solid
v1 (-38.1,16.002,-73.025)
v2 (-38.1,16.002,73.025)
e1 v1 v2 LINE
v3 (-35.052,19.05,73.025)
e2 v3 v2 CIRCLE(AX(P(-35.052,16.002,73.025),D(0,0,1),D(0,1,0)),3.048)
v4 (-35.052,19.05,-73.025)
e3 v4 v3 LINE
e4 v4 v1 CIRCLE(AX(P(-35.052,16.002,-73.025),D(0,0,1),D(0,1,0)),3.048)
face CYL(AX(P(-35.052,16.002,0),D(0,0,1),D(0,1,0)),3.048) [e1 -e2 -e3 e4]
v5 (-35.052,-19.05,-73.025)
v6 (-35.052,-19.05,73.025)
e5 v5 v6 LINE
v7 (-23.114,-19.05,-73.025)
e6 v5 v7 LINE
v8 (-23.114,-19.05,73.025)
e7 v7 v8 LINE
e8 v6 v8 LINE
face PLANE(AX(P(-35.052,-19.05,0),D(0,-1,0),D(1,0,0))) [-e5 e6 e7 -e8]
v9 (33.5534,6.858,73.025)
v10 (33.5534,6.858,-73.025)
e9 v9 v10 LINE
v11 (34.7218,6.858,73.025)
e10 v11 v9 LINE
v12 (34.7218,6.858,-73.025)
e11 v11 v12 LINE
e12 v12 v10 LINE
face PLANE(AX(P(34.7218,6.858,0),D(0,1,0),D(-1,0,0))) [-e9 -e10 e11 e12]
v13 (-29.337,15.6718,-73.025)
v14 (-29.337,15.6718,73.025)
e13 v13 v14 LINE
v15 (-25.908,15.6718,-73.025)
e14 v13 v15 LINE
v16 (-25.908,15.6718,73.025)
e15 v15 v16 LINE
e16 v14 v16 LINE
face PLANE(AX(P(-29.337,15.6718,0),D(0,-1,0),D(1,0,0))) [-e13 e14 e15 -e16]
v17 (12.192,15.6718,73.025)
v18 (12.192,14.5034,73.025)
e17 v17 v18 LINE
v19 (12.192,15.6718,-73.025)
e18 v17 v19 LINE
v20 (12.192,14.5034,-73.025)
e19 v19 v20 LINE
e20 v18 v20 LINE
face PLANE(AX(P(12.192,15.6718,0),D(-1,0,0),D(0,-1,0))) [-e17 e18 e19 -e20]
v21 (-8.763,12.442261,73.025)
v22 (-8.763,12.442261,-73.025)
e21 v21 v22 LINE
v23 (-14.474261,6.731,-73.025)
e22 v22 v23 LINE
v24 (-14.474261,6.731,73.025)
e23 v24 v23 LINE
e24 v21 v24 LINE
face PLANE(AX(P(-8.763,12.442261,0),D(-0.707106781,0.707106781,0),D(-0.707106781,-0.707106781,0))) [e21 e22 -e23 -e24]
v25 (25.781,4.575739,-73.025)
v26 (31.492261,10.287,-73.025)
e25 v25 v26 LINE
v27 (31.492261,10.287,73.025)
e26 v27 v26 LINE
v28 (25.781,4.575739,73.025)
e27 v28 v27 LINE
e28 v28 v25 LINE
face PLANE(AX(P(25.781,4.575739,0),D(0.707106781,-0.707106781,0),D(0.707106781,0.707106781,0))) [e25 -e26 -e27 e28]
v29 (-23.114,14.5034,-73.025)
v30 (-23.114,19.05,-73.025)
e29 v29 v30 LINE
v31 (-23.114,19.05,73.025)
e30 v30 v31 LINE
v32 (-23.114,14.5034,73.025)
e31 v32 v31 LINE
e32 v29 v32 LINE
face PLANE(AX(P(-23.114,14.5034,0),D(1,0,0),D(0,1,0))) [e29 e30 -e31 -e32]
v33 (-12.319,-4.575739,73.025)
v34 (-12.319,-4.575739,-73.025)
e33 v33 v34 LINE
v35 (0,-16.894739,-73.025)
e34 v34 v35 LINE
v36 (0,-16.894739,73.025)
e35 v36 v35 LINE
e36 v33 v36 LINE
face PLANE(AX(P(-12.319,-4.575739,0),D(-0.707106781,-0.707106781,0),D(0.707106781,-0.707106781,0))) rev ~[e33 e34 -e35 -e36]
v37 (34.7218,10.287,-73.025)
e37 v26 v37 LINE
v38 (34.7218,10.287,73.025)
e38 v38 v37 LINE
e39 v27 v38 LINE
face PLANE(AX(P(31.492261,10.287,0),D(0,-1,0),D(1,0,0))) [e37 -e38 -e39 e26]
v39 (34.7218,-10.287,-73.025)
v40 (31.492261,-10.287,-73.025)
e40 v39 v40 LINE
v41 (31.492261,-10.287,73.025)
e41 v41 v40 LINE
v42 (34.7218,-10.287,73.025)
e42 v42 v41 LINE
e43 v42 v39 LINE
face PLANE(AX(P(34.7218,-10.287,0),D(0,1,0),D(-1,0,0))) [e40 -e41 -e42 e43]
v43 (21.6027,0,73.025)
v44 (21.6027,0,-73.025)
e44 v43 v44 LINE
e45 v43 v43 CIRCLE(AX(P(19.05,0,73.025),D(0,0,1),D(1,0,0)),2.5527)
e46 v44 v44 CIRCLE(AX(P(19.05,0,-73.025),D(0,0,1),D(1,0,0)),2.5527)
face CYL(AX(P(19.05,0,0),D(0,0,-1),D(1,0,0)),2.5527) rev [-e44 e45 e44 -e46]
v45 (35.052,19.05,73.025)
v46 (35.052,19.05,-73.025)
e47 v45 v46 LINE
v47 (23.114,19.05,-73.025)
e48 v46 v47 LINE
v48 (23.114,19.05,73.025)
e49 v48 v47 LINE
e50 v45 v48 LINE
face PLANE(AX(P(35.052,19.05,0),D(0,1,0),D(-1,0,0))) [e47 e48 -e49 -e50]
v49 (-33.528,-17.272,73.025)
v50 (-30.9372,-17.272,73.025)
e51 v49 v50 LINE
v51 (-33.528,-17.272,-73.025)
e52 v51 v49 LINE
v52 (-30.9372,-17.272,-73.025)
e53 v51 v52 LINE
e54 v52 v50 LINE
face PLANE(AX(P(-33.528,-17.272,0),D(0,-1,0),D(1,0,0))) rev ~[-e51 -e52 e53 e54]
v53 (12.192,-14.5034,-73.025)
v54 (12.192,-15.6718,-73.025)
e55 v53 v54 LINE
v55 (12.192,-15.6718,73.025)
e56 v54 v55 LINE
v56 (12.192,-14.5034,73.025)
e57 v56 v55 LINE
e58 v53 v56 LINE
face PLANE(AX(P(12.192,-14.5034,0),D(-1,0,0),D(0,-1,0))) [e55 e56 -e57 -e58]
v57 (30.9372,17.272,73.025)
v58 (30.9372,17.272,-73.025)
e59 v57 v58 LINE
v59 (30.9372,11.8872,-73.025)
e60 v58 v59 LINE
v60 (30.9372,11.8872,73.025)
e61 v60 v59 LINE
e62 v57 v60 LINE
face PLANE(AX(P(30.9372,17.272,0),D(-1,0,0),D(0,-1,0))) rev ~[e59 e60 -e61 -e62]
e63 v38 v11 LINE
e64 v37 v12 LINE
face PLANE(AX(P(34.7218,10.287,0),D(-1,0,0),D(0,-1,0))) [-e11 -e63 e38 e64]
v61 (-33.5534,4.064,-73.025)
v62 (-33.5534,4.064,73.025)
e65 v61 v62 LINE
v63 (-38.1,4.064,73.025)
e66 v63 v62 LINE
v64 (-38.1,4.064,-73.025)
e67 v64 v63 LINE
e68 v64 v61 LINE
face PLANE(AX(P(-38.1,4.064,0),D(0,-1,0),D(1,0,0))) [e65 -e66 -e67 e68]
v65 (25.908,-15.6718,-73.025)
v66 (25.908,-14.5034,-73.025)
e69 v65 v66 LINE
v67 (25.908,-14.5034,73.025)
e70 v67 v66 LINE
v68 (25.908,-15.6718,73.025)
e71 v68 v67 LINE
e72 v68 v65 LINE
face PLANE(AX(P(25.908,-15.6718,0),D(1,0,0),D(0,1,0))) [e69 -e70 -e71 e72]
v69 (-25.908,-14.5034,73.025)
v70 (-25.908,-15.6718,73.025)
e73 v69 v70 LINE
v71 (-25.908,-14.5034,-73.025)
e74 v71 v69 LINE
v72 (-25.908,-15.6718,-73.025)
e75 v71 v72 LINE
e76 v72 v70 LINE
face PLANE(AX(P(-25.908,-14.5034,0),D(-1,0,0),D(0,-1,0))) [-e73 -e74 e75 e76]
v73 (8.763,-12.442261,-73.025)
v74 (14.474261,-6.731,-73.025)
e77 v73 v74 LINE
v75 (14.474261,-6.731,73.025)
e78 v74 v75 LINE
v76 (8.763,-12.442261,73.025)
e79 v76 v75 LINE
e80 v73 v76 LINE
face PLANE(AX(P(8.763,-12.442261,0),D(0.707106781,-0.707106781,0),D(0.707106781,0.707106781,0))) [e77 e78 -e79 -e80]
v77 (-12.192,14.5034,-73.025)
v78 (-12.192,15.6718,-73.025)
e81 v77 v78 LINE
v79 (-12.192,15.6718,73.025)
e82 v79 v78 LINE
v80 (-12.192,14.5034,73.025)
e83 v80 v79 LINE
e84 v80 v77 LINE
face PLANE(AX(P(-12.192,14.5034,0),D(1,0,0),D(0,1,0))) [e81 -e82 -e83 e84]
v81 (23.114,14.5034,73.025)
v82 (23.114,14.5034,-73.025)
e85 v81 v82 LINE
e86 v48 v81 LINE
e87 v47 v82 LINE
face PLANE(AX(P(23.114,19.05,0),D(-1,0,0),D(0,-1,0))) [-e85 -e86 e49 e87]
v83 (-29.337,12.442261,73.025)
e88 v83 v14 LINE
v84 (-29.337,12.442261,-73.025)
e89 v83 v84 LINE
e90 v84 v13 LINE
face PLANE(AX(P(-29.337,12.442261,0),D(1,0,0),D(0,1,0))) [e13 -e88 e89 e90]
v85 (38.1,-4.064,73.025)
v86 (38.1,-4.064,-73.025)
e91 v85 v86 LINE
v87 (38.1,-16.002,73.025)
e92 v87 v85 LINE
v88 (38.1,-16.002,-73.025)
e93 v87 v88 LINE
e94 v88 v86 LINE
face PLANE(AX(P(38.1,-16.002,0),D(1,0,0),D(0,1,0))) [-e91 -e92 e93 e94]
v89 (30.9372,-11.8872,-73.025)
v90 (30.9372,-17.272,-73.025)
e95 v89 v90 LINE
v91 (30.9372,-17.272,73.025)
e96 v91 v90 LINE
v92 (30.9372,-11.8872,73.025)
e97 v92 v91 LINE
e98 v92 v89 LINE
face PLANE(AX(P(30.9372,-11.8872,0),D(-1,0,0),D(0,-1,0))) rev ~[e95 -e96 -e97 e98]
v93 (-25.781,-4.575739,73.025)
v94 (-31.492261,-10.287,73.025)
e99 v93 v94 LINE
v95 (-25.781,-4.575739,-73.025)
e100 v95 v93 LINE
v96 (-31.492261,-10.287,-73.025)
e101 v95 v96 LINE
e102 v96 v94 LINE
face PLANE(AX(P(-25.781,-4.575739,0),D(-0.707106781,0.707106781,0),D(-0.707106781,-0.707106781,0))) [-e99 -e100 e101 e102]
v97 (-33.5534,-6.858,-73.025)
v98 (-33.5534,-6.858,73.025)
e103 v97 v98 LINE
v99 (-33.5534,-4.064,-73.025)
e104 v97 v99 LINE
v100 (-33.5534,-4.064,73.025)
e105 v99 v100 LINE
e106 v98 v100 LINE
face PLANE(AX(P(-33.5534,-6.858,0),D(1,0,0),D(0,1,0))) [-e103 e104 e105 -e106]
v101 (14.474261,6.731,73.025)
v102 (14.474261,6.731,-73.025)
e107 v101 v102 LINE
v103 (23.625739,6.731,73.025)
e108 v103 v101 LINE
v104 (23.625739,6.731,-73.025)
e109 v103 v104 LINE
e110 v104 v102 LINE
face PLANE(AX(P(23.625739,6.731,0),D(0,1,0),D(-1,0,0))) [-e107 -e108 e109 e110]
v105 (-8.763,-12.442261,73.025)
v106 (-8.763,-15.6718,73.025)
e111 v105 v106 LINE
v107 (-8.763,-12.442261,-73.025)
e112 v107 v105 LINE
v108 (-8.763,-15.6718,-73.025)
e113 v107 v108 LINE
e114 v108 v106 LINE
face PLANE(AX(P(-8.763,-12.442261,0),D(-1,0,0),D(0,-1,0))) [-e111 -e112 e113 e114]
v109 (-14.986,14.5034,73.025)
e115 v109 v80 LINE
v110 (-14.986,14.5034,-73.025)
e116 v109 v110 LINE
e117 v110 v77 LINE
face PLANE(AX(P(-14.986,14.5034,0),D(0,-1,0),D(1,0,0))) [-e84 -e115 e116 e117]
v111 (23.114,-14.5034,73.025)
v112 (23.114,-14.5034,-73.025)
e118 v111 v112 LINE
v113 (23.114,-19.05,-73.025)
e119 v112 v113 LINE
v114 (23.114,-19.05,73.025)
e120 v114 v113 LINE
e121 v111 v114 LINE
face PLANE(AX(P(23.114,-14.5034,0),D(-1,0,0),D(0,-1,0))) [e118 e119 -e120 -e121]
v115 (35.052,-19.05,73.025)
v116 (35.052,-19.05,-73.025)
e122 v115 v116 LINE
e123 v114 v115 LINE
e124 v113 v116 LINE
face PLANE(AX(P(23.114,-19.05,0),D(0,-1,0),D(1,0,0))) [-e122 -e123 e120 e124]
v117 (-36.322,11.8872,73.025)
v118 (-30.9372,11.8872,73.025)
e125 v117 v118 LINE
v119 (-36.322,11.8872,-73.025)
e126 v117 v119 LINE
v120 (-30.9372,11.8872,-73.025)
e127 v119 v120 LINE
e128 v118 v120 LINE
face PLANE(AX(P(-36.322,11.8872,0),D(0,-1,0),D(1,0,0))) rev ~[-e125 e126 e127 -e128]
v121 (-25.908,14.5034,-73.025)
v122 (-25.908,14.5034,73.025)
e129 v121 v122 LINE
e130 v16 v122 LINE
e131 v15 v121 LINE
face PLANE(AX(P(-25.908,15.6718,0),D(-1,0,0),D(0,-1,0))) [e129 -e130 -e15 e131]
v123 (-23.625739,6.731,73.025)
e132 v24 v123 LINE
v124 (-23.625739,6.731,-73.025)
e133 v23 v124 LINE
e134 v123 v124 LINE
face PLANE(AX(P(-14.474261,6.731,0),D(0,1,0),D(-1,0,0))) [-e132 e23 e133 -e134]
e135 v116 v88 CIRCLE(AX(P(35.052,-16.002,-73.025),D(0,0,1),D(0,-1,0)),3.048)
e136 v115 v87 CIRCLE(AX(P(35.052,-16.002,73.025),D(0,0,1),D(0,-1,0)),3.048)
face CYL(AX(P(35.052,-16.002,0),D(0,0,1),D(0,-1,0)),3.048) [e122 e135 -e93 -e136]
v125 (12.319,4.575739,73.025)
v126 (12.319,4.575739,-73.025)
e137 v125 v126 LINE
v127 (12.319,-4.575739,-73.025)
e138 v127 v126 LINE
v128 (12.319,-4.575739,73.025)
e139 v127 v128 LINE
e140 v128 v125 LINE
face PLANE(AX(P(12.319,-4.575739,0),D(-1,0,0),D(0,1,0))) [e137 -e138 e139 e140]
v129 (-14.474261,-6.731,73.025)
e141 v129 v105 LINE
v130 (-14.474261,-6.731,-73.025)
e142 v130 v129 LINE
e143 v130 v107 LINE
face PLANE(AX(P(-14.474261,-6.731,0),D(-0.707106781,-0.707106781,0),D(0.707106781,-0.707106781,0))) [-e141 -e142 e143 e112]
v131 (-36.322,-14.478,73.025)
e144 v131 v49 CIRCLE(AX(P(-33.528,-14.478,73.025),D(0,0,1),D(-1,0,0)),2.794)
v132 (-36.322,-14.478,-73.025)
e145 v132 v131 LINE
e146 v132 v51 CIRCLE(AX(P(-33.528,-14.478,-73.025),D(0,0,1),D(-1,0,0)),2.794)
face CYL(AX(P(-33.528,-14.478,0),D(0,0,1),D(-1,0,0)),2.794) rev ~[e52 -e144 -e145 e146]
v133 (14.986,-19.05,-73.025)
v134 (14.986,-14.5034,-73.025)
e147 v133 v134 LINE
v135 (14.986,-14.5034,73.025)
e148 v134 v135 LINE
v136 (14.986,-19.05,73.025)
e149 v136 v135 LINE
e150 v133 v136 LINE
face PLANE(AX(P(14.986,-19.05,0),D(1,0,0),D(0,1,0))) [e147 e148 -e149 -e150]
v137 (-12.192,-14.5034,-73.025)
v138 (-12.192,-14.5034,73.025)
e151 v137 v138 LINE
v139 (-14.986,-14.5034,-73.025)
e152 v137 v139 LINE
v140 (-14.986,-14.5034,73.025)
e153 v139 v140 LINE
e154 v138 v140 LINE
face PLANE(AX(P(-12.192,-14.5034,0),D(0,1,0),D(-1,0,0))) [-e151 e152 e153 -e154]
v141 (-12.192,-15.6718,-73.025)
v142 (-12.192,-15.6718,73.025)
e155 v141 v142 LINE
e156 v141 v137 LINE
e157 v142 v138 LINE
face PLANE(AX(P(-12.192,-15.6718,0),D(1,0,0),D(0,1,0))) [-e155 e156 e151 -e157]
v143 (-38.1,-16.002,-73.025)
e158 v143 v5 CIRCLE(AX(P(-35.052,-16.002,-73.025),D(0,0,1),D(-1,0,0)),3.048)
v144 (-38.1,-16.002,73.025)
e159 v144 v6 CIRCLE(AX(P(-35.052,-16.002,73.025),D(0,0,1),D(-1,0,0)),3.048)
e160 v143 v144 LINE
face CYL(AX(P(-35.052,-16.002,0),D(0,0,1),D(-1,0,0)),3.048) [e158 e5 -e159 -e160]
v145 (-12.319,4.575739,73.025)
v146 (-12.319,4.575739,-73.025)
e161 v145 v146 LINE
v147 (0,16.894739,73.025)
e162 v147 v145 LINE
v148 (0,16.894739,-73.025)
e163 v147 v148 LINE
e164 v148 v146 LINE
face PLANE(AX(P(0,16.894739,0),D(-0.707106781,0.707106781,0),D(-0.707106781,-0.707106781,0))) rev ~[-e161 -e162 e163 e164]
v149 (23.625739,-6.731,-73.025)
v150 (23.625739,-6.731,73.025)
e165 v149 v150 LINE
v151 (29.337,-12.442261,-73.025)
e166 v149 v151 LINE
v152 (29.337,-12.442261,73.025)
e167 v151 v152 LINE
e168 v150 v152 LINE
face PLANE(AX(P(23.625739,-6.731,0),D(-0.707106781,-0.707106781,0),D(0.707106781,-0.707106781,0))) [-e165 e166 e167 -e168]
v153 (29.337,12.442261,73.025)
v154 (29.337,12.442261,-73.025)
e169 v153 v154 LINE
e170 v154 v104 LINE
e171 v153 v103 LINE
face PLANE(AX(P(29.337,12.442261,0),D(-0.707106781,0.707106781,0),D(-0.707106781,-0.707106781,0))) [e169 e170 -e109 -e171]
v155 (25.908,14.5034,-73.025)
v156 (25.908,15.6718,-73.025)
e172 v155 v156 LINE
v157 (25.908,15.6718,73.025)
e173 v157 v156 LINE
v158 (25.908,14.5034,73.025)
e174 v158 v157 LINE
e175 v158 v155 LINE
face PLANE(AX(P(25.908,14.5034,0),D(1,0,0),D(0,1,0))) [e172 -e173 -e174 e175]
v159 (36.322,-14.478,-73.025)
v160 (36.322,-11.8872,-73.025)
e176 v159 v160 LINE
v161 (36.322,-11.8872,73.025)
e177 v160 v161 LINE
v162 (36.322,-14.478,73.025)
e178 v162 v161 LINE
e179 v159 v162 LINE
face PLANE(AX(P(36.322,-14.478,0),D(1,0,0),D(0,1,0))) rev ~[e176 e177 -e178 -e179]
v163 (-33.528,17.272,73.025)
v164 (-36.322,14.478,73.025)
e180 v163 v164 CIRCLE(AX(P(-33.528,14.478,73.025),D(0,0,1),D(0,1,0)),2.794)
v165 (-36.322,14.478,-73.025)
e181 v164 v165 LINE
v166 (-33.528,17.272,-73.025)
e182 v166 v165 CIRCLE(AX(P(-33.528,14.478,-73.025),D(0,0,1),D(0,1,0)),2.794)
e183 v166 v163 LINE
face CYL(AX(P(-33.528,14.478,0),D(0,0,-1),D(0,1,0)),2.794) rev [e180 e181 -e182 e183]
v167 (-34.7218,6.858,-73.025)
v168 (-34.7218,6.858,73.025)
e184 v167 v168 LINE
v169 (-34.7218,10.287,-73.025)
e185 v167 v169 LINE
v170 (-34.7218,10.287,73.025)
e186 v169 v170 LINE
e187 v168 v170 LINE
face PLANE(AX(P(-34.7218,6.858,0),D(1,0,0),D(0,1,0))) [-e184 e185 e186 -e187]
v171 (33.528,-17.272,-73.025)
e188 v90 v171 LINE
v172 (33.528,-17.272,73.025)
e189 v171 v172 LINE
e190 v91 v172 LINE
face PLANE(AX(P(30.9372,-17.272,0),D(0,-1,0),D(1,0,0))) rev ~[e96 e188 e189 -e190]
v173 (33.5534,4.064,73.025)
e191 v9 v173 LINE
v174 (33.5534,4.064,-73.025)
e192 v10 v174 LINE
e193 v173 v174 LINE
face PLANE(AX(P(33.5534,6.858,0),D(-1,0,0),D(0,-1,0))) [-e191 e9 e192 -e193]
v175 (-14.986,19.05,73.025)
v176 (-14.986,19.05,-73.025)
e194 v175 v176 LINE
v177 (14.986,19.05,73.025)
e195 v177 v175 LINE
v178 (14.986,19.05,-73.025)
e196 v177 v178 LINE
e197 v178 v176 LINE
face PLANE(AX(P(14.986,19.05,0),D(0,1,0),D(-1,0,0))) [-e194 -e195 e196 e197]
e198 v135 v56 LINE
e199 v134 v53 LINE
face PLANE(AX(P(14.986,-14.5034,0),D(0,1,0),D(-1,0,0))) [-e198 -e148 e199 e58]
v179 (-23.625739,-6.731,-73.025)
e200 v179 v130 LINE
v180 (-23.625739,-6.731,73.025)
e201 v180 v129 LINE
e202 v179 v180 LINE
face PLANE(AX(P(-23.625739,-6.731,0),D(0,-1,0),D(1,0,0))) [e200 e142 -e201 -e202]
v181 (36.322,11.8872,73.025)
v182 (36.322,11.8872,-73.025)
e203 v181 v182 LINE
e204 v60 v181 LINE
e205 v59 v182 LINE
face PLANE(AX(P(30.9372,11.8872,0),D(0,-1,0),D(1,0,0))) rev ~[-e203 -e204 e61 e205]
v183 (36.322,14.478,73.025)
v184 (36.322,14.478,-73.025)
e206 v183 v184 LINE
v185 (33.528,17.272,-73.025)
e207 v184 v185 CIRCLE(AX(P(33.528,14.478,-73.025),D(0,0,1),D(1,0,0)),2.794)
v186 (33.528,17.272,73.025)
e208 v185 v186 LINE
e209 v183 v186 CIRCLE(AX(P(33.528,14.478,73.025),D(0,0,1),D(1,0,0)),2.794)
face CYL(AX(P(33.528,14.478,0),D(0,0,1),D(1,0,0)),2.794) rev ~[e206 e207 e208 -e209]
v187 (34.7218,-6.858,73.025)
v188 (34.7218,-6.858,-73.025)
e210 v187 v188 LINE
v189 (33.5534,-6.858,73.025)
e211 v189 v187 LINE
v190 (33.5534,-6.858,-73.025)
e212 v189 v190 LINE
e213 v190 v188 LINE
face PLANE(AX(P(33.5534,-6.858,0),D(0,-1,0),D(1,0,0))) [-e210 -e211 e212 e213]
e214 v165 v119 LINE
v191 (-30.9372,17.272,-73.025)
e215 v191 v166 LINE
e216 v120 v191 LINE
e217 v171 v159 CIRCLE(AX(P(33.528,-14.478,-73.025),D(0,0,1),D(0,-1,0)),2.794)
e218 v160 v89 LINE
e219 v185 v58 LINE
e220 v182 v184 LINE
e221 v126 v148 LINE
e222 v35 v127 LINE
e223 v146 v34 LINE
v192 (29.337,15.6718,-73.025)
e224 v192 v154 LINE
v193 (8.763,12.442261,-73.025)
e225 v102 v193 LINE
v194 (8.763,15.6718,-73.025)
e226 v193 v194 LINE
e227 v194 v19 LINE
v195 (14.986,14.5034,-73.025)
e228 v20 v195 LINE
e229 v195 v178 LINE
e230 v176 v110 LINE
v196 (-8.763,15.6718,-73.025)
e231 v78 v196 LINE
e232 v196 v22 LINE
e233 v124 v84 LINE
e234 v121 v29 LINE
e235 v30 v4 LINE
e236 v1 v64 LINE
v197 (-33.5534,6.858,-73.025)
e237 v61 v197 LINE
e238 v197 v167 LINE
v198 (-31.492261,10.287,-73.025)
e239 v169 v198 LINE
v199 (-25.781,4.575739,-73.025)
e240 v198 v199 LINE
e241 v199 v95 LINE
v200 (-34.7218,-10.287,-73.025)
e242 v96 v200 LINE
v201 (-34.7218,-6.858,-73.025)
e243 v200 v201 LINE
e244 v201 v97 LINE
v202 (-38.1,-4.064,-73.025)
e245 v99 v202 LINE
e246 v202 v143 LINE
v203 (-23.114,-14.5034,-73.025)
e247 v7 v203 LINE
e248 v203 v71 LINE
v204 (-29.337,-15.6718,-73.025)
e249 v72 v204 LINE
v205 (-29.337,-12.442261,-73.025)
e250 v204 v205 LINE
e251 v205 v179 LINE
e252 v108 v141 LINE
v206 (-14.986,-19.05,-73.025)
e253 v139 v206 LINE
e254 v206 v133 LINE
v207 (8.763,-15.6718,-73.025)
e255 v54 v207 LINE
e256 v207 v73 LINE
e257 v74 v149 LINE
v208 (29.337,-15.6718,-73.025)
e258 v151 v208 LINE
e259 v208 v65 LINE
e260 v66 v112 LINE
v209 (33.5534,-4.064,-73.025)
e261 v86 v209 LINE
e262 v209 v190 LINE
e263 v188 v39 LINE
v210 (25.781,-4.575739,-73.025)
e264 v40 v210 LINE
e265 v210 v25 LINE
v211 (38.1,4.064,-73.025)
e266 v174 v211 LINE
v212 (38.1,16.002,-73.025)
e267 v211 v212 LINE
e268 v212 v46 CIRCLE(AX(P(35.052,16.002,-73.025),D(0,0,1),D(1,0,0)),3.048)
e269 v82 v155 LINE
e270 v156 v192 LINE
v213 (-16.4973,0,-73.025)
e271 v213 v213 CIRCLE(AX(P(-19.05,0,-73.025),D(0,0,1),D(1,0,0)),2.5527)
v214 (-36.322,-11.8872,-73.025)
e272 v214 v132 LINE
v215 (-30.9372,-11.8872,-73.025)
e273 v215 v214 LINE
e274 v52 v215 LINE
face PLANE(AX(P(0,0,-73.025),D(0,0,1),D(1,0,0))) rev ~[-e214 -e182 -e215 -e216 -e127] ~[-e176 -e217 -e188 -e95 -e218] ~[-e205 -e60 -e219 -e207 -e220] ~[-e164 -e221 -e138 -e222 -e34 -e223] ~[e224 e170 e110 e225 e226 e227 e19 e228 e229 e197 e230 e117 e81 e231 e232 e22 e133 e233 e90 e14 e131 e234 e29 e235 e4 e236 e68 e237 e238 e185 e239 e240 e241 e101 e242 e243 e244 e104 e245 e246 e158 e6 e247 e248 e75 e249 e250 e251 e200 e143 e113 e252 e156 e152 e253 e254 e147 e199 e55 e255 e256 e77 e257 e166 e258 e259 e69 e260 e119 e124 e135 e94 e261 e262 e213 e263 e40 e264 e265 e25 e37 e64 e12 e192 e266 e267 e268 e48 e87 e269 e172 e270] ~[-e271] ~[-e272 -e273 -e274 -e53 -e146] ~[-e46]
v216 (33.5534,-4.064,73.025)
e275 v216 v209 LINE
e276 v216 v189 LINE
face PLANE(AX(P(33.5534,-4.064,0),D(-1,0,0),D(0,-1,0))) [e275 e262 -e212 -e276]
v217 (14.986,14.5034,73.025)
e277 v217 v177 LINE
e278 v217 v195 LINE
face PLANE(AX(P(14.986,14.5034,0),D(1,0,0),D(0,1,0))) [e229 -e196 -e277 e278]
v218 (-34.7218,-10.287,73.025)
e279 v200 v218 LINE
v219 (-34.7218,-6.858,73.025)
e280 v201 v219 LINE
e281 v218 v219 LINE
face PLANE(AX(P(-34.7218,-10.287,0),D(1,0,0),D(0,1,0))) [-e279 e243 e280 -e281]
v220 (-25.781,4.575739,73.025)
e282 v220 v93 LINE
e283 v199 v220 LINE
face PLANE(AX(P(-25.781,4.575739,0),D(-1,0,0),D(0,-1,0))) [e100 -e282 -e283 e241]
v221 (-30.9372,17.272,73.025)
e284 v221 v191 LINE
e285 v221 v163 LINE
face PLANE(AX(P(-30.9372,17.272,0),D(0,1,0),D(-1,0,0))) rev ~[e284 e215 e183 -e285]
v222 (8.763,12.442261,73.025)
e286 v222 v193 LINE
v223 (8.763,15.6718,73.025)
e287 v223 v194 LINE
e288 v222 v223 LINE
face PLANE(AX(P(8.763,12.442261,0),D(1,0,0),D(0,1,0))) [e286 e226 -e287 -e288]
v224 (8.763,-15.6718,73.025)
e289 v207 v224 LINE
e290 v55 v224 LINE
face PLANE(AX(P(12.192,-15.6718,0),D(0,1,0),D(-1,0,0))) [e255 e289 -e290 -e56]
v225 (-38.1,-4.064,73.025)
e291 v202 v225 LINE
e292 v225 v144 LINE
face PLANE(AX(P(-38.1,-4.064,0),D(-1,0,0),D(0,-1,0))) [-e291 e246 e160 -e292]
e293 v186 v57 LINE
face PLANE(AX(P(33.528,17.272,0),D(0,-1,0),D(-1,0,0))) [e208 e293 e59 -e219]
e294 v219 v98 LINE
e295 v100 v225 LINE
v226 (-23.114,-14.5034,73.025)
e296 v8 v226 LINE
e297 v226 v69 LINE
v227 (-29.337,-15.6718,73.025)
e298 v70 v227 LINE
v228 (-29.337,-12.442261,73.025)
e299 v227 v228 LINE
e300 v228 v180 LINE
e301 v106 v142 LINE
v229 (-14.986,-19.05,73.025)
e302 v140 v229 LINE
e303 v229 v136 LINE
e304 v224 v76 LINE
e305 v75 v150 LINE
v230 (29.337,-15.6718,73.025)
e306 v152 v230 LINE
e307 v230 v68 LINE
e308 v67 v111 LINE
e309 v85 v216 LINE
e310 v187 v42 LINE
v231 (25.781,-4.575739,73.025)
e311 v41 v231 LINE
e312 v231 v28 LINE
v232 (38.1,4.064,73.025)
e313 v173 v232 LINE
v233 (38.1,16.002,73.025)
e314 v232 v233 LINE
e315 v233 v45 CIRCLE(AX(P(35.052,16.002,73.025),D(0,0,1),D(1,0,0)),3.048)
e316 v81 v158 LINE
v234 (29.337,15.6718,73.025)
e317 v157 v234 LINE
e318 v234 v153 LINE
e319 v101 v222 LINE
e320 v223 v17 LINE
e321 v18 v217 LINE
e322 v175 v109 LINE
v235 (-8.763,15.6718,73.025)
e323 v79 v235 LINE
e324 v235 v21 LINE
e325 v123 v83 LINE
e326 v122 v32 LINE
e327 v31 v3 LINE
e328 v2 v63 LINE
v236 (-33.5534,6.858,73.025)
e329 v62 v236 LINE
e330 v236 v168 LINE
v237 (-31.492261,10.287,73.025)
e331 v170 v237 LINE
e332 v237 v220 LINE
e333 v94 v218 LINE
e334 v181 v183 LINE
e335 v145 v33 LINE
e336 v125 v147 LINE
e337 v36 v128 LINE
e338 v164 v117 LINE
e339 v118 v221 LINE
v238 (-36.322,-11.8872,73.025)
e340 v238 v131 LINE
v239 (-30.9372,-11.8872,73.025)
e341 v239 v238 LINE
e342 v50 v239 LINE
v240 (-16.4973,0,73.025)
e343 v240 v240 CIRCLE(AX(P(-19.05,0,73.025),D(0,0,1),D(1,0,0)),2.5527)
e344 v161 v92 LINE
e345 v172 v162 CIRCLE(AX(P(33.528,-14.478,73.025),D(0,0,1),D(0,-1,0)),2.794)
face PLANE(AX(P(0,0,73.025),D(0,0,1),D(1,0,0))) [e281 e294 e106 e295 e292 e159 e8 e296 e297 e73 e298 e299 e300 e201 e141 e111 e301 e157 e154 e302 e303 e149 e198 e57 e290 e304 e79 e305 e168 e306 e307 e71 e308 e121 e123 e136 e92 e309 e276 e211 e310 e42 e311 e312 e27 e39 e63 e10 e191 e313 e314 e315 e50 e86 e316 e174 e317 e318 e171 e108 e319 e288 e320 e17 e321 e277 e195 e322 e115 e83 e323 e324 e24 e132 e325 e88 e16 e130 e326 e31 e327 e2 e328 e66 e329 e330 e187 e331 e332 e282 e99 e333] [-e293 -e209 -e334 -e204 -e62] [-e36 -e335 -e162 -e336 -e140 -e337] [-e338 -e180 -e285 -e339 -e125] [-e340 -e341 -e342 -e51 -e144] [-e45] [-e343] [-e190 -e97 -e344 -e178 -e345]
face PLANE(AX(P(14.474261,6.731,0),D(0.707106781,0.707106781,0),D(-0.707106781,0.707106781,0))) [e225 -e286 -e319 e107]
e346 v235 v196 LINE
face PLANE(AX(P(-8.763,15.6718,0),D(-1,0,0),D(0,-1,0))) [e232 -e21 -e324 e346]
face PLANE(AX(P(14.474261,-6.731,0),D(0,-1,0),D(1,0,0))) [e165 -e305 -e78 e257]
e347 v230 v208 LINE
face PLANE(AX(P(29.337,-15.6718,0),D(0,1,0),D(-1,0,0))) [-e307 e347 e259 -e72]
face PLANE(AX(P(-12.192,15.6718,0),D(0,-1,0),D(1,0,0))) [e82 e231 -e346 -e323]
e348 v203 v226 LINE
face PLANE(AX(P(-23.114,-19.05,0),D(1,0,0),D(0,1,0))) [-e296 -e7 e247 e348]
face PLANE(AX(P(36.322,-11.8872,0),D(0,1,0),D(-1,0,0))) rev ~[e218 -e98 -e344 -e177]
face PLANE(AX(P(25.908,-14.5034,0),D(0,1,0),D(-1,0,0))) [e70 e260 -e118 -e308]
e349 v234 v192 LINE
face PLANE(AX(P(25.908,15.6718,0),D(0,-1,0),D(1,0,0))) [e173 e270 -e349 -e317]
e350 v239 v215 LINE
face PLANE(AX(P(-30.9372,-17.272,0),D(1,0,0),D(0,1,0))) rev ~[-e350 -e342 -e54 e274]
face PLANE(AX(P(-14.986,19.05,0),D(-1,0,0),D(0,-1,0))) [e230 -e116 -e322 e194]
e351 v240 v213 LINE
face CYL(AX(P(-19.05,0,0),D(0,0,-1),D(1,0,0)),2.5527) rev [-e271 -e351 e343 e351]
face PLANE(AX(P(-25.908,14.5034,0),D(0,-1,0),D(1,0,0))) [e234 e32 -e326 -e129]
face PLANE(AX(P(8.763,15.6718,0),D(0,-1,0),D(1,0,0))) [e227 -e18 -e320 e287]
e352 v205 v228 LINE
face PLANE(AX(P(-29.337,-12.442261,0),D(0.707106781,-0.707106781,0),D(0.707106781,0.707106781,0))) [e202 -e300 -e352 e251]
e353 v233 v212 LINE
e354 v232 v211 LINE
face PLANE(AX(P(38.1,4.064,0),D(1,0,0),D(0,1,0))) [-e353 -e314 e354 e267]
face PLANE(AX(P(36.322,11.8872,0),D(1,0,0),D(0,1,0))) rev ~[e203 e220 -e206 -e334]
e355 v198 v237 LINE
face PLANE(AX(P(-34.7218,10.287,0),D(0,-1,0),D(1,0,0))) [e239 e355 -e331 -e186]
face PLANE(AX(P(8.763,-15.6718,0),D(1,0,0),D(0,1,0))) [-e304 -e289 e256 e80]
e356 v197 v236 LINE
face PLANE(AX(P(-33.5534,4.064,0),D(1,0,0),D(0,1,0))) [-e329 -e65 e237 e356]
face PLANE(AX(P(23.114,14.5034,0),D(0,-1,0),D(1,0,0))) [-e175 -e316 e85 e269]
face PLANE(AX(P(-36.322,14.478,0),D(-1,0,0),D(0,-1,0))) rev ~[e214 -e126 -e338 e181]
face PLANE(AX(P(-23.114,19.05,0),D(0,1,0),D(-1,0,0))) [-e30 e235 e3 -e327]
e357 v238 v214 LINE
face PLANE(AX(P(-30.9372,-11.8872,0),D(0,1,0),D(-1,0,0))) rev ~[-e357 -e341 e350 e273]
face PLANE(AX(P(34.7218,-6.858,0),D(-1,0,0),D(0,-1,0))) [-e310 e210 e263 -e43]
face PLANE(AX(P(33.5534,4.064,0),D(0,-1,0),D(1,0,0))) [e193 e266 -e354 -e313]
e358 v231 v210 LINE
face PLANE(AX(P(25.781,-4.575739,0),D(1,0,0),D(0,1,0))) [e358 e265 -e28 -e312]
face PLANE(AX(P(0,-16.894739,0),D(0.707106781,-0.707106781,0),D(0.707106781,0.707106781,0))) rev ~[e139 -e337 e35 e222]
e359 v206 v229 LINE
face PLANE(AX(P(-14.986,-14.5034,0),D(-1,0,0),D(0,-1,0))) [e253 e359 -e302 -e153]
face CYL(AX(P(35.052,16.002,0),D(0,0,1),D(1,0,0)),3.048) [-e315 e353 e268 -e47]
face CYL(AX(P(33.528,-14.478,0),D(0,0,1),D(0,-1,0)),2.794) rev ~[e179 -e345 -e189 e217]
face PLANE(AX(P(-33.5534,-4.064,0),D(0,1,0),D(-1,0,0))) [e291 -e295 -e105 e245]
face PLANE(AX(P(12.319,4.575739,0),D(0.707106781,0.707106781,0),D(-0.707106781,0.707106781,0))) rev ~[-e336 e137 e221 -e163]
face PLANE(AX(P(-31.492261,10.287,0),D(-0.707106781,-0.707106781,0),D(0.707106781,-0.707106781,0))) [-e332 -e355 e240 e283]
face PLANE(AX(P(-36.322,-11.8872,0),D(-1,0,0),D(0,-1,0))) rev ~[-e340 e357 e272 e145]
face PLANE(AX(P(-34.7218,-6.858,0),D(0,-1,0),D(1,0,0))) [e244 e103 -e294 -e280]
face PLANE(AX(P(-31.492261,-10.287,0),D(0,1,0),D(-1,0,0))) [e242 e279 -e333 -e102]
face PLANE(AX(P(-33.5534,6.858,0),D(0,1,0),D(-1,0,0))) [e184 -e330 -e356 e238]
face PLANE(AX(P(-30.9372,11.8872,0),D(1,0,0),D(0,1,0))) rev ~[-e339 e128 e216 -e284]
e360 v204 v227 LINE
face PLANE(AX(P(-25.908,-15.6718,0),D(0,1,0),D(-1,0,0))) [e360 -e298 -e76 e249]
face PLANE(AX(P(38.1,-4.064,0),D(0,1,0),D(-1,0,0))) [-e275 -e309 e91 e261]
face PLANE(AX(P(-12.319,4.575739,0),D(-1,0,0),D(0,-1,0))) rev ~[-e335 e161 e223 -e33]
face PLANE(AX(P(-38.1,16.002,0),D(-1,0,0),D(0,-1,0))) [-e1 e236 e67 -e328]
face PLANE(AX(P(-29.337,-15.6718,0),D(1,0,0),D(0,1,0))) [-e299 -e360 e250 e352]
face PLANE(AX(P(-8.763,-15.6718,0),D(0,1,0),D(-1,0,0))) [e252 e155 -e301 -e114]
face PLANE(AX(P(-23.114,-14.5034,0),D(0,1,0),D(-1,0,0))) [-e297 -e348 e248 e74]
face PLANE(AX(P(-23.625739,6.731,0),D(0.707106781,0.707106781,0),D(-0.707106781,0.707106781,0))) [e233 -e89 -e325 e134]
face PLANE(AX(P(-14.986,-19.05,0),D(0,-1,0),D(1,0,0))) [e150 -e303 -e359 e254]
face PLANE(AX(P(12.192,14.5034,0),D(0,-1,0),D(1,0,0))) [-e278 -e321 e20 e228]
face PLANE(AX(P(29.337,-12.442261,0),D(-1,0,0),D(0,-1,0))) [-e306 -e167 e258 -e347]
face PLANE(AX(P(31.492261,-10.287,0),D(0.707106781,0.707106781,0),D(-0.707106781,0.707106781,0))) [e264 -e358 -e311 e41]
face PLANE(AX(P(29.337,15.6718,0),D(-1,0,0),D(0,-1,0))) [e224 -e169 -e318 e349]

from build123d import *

# Parameters (mm, degrees)
SKETCH1_R           = 2.5527
BOSS_EXTRUDE1_DEPTH = 73.025


with BuildPart() as part:
    # Sketch1 → Boss-Extrude1 (new, symmetric)
    with BuildSketch(Plane.XY):
        with BuildLine():
            Line((-29.337, 12.442261469), (-29.337, 15.6718))
            Line((-29.337, 15.6718), (-25.908, 15.6718))
            Line((-25.908, 15.6718), (-25.908, 14.5034))
            Line((-25.908, 14.5034), (-23.114, 14.5034))
            Line((-23.114, 14.5034), (-23.114, 19.05))
            Line((-23.114, 19.05), (-35.052, 19.05))
            ThreePointArc((-35.052, 19.05), (-37.207261469, 18.157261469), (-38.1, 16.002))
            Line((-38.1, 16.002), (-38.1, 4.064))
            Line((-38.1, 4.064), (-33.5534, 4.064))
            Line((-33.5534, 4.064), (-33.5534, 6.858))
            Line((-33.5534, 6.858), (-34.7218, 6.858))
            Line((-34.7218, 6.858), (-34.7218, 10.287))
            Line((-34.7218, 10.287), (-31.492261469, 10.287))
            Line((-31.492261469, 10.287), (-25.781, 4.575738531))
            Line((-25.781, 4.575738531), (-25.781, -4.575738531))
            Line((-25.781, -4.575738531), (-31.492261469, -10.287))
            Line((-31.492261469, -10.287), (-34.7218, -10.287))
            Line((-34.7218, -10.287), (-34.7218, -6.858))
            Line((-34.7218, -6.858), (-33.5534, -6.858))
            Line((-33.5534, -6.858), (-33.5534, -4.064))
            Line((-33.5534, -4.064), (-38.1, -4.064))
            Line((-38.1, -4.064), (-38.1, -16.002))
            ThreePointArc((-38.1, -16.002), (-37.207261469, -18.157261469), (-35.052, -19.05))
            Line((-35.052, -19.05), (-23.114, -19.05))
            Line((-23.114, -19.05), (-23.114, -14.5034))
            Line((-23.114, -14.5034), (-25.908, -14.5034))
            Line((-25.908, -14.5034), (-25.908, -15.6718))
            Line((-25.908, -15.6718), (-29.337, -15.6718))
            Line((-29.337, -15.6718), (-29.337, -12.442261469))
            Line((-29.337, -12.442261469), (-23.625738531, -6.731))
            Line((-23.625738531, -6.731), (-14.474261469, -6.731))
            Line((-14.474261469, -6.731), (-8.763, -12.442261469))
            Line((-8.763, -12.442261469), (-8.763, -15.6718))
            Line((-8.763, -15.6718), (-12.192, -15.6718))
            Line((-12.192, -15.6718), (-12.192, -14.5034))
            Line((-12.192, -14.5034), (-14.986, -14.5034))
            Line((-14.986, -14.5034), (-14.986, -19.05))
            Line((-14.986, -19.05), (14.986, -19.05))
            Line((14.986, -19.05), (14.986, -14.5034))
            Line((14.986, -14.5034), (12.192, -14.5034))
            Line((12.192, -14.5034), (12.192, -15.6718))
            Line((12.192, -15.6718), (8.763, -15.6718))
            Line((8.763, -15.6718), (8.763, -12.442261469))
            Line((8.763, -12.442261469), (14.474261469, -6.731))
            Line((14.474261469, -6.731), (23.625738531, -6.731))
            Line((23.625738531, -6.731), (29.337, -12.442261469))
            Line((29.337, -12.442261469), (29.337, -15.6718))
            Line((29.337, -15.6718), (25.908, -15.6718))
            Line((25.908, -15.6718), (25.908, -14.5034))
            Line((25.908, -14.5034), (23.114, -14.5034))
            Line((23.114, -14.5034), (23.114, -19.05))
            Line((23.114, -19.05), (35.052, -19.05))
            ThreePointArc((35.052, -19.05), (37.207261469, -18.157261469), (38.1, -16.002))
            Line((38.1, -16.002), (38.1, -4.064))
            Line((38.1, -4.064), (33.5534, -4.064))
            Line((33.5534, -4.064), (33.5534, -6.858))
            Line((33.5534, -6.858), (34.7218, -6.858))
            Line((34.7218, -6.858), (34.7218, -10.287))
            Line((34.7218, -10.287), (31.492261469, -10.287))
            Line((31.492261469, -10.287), (25.781, -4.575738531))
            Line((25.781, -4.575738531), (25.781, 4.575738531))
            Line((25.781, 4.575738531), (31.492261469, 10.287))
            Line((31.492261469, 10.287), (34.7218, 10.287))
            Line((34.7218, 10.287), (34.7218, 6.858))
            Line((34.7218, 6.858), (33.5534, 6.858))
            Line((33.5534, 6.858), (33.5534, 4.064))
            Line((33.5534, 4.064), (38.1, 4.064))
            Line((38.1, 4.064), (38.1, 16.002))
            ThreePointArc((38.1, 16.002), (37.207261469, 18.157261469), (35.052, 19.05))
            Line((35.052, 19.05), (23.114, 19.05))
            Line((23.114, 19.05), (23.114, 14.5034))
            Line((23.114, 14.5034), (25.908, 14.5034))
            Line((25.908, 14.5034), (25.908, 15.6718))
            Line((25.908, 15.6718), (29.337, 15.6718))
            Line((29.337, 15.6718), (29.337, 12.442261469))
            Line((29.337, 12.442261469), (23.625738531, 6.731))
            Line((23.625738531, 6.731), (14.474261469, 6.731))
            Line((14.474261469, 6.731), (8.763, 12.442261469))
            Line((8.763, 12.442261469), (8.763, 15.6718))
            Line((8.763, 15.6718), (12.192, 15.6718))
            Line((12.192, 15.6718), (12.192, 14.5034))
            Line((12.192, 14.5034), (14.986, 14.5034))
            Line((14.986, 14.5034), (14.986, 19.05))
            Line((14.986, 19.05), (-14.986, 19.05))
            Line((-14.986, 19.05), (-14.986, 14.5034))
            Line((-14.986, 14.5034), (-12.192, 14.5034))
            Line((-12.192, 14.5034), (-12.192, 15.6718))
            Line((-12.192, 15.6718), (-8.763, 15.6718))
            Line((-8.763, 15.6718), (-8.763, 12.442261469))
            Line((-8.763, 12.442261469), (-14.474261469, 6.731))
            Line((-14.474261469, 6.731), (-23.625738531, 6.731))
            Line((-23.625738531, 6.731), (-29.337, 12.442261469))
        make_face()
        with Locations((-19.05, 0)):
            Circle(SKETCH1_R, mode=Mode.SUBTRACT)
        with Locations((19.05, 0)):
            Circle(SKETCH1_R, mode=Mode.SUBTRACT)
        Polygon((-12.319, 4.575738531), (-12.319, -4.575738531), (0, -16.894738531), (12.319, -4.575738531), (12.319, 4.575738531), (0, 16.894738531), align=None, mode=Mode.SUBTRACT)
        with BuildLine():
            Line((-30.9372, 11.8872), (-30.9372, 17.272))
            Line((-30.9372, 17.272), (-33.528, 17.272))
            ThreePointArc((-33.528, 17.272), (-35.503656347, 16.453656347), (-36.322, 14.478))
            Line((-36.322, 14.478), (-36.322, 11.8872))
            Line((-36.322, 11.8872), (-30.9372, 11.8872))
        make_face(mode=Mode.SUBTRACT)
        with BuildLine():
            Line((-30.9372, -17.272), (-30.9372, -11.8872))
            Line((-30.9372, -11.8872), (-36.322, -11.8872))
            Line((-36.322, -11.8872), (-36.322, -14.478))
            ThreePointArc((-36.322, -14.478), (-35.503656347, -16.453656347), (-33.528, -17.272))
            Line((-33.528, -17.272), (-30.9372, -17.272))
        make_face(mode=Mode.SUBTRACT)
        with BuildLine():
            Line((36.322, -11.8872), (30.9372, -11.8872))
            Line((30.9372, -11.8872), (30.9372, -17.272))
            Line((30.9372, -17.272), (33.528, -17.272))
            ThreePointArc((33.528, -17.272), (35.503656347, -16.453656347), (36.322, -14.478))
            Line((36.322, -14.478), (36.322, -11.8872))
        make_face(mode=Mode.SUBTRACT)
        with BuildLine():
            Line((30.9372, 17.272), (30.9372, 11.8872))
            Line((30.9372, 11.8872), (36.322, 11.8872))
            Line((36.322, 11.8872), (36.322, 14.478))
            ThreePointArc((36.322, 14.478), (35.503656347, 16.453656347), (33.528, 17.272))
            Line((33.528, 17.272), (30.9372, 17.272))
        make_face(mode=Mode.SUBTRACT)
    extrude(amount=BOSS_EXTRUDE1_DEPTH, both=True)


solid = part.part
